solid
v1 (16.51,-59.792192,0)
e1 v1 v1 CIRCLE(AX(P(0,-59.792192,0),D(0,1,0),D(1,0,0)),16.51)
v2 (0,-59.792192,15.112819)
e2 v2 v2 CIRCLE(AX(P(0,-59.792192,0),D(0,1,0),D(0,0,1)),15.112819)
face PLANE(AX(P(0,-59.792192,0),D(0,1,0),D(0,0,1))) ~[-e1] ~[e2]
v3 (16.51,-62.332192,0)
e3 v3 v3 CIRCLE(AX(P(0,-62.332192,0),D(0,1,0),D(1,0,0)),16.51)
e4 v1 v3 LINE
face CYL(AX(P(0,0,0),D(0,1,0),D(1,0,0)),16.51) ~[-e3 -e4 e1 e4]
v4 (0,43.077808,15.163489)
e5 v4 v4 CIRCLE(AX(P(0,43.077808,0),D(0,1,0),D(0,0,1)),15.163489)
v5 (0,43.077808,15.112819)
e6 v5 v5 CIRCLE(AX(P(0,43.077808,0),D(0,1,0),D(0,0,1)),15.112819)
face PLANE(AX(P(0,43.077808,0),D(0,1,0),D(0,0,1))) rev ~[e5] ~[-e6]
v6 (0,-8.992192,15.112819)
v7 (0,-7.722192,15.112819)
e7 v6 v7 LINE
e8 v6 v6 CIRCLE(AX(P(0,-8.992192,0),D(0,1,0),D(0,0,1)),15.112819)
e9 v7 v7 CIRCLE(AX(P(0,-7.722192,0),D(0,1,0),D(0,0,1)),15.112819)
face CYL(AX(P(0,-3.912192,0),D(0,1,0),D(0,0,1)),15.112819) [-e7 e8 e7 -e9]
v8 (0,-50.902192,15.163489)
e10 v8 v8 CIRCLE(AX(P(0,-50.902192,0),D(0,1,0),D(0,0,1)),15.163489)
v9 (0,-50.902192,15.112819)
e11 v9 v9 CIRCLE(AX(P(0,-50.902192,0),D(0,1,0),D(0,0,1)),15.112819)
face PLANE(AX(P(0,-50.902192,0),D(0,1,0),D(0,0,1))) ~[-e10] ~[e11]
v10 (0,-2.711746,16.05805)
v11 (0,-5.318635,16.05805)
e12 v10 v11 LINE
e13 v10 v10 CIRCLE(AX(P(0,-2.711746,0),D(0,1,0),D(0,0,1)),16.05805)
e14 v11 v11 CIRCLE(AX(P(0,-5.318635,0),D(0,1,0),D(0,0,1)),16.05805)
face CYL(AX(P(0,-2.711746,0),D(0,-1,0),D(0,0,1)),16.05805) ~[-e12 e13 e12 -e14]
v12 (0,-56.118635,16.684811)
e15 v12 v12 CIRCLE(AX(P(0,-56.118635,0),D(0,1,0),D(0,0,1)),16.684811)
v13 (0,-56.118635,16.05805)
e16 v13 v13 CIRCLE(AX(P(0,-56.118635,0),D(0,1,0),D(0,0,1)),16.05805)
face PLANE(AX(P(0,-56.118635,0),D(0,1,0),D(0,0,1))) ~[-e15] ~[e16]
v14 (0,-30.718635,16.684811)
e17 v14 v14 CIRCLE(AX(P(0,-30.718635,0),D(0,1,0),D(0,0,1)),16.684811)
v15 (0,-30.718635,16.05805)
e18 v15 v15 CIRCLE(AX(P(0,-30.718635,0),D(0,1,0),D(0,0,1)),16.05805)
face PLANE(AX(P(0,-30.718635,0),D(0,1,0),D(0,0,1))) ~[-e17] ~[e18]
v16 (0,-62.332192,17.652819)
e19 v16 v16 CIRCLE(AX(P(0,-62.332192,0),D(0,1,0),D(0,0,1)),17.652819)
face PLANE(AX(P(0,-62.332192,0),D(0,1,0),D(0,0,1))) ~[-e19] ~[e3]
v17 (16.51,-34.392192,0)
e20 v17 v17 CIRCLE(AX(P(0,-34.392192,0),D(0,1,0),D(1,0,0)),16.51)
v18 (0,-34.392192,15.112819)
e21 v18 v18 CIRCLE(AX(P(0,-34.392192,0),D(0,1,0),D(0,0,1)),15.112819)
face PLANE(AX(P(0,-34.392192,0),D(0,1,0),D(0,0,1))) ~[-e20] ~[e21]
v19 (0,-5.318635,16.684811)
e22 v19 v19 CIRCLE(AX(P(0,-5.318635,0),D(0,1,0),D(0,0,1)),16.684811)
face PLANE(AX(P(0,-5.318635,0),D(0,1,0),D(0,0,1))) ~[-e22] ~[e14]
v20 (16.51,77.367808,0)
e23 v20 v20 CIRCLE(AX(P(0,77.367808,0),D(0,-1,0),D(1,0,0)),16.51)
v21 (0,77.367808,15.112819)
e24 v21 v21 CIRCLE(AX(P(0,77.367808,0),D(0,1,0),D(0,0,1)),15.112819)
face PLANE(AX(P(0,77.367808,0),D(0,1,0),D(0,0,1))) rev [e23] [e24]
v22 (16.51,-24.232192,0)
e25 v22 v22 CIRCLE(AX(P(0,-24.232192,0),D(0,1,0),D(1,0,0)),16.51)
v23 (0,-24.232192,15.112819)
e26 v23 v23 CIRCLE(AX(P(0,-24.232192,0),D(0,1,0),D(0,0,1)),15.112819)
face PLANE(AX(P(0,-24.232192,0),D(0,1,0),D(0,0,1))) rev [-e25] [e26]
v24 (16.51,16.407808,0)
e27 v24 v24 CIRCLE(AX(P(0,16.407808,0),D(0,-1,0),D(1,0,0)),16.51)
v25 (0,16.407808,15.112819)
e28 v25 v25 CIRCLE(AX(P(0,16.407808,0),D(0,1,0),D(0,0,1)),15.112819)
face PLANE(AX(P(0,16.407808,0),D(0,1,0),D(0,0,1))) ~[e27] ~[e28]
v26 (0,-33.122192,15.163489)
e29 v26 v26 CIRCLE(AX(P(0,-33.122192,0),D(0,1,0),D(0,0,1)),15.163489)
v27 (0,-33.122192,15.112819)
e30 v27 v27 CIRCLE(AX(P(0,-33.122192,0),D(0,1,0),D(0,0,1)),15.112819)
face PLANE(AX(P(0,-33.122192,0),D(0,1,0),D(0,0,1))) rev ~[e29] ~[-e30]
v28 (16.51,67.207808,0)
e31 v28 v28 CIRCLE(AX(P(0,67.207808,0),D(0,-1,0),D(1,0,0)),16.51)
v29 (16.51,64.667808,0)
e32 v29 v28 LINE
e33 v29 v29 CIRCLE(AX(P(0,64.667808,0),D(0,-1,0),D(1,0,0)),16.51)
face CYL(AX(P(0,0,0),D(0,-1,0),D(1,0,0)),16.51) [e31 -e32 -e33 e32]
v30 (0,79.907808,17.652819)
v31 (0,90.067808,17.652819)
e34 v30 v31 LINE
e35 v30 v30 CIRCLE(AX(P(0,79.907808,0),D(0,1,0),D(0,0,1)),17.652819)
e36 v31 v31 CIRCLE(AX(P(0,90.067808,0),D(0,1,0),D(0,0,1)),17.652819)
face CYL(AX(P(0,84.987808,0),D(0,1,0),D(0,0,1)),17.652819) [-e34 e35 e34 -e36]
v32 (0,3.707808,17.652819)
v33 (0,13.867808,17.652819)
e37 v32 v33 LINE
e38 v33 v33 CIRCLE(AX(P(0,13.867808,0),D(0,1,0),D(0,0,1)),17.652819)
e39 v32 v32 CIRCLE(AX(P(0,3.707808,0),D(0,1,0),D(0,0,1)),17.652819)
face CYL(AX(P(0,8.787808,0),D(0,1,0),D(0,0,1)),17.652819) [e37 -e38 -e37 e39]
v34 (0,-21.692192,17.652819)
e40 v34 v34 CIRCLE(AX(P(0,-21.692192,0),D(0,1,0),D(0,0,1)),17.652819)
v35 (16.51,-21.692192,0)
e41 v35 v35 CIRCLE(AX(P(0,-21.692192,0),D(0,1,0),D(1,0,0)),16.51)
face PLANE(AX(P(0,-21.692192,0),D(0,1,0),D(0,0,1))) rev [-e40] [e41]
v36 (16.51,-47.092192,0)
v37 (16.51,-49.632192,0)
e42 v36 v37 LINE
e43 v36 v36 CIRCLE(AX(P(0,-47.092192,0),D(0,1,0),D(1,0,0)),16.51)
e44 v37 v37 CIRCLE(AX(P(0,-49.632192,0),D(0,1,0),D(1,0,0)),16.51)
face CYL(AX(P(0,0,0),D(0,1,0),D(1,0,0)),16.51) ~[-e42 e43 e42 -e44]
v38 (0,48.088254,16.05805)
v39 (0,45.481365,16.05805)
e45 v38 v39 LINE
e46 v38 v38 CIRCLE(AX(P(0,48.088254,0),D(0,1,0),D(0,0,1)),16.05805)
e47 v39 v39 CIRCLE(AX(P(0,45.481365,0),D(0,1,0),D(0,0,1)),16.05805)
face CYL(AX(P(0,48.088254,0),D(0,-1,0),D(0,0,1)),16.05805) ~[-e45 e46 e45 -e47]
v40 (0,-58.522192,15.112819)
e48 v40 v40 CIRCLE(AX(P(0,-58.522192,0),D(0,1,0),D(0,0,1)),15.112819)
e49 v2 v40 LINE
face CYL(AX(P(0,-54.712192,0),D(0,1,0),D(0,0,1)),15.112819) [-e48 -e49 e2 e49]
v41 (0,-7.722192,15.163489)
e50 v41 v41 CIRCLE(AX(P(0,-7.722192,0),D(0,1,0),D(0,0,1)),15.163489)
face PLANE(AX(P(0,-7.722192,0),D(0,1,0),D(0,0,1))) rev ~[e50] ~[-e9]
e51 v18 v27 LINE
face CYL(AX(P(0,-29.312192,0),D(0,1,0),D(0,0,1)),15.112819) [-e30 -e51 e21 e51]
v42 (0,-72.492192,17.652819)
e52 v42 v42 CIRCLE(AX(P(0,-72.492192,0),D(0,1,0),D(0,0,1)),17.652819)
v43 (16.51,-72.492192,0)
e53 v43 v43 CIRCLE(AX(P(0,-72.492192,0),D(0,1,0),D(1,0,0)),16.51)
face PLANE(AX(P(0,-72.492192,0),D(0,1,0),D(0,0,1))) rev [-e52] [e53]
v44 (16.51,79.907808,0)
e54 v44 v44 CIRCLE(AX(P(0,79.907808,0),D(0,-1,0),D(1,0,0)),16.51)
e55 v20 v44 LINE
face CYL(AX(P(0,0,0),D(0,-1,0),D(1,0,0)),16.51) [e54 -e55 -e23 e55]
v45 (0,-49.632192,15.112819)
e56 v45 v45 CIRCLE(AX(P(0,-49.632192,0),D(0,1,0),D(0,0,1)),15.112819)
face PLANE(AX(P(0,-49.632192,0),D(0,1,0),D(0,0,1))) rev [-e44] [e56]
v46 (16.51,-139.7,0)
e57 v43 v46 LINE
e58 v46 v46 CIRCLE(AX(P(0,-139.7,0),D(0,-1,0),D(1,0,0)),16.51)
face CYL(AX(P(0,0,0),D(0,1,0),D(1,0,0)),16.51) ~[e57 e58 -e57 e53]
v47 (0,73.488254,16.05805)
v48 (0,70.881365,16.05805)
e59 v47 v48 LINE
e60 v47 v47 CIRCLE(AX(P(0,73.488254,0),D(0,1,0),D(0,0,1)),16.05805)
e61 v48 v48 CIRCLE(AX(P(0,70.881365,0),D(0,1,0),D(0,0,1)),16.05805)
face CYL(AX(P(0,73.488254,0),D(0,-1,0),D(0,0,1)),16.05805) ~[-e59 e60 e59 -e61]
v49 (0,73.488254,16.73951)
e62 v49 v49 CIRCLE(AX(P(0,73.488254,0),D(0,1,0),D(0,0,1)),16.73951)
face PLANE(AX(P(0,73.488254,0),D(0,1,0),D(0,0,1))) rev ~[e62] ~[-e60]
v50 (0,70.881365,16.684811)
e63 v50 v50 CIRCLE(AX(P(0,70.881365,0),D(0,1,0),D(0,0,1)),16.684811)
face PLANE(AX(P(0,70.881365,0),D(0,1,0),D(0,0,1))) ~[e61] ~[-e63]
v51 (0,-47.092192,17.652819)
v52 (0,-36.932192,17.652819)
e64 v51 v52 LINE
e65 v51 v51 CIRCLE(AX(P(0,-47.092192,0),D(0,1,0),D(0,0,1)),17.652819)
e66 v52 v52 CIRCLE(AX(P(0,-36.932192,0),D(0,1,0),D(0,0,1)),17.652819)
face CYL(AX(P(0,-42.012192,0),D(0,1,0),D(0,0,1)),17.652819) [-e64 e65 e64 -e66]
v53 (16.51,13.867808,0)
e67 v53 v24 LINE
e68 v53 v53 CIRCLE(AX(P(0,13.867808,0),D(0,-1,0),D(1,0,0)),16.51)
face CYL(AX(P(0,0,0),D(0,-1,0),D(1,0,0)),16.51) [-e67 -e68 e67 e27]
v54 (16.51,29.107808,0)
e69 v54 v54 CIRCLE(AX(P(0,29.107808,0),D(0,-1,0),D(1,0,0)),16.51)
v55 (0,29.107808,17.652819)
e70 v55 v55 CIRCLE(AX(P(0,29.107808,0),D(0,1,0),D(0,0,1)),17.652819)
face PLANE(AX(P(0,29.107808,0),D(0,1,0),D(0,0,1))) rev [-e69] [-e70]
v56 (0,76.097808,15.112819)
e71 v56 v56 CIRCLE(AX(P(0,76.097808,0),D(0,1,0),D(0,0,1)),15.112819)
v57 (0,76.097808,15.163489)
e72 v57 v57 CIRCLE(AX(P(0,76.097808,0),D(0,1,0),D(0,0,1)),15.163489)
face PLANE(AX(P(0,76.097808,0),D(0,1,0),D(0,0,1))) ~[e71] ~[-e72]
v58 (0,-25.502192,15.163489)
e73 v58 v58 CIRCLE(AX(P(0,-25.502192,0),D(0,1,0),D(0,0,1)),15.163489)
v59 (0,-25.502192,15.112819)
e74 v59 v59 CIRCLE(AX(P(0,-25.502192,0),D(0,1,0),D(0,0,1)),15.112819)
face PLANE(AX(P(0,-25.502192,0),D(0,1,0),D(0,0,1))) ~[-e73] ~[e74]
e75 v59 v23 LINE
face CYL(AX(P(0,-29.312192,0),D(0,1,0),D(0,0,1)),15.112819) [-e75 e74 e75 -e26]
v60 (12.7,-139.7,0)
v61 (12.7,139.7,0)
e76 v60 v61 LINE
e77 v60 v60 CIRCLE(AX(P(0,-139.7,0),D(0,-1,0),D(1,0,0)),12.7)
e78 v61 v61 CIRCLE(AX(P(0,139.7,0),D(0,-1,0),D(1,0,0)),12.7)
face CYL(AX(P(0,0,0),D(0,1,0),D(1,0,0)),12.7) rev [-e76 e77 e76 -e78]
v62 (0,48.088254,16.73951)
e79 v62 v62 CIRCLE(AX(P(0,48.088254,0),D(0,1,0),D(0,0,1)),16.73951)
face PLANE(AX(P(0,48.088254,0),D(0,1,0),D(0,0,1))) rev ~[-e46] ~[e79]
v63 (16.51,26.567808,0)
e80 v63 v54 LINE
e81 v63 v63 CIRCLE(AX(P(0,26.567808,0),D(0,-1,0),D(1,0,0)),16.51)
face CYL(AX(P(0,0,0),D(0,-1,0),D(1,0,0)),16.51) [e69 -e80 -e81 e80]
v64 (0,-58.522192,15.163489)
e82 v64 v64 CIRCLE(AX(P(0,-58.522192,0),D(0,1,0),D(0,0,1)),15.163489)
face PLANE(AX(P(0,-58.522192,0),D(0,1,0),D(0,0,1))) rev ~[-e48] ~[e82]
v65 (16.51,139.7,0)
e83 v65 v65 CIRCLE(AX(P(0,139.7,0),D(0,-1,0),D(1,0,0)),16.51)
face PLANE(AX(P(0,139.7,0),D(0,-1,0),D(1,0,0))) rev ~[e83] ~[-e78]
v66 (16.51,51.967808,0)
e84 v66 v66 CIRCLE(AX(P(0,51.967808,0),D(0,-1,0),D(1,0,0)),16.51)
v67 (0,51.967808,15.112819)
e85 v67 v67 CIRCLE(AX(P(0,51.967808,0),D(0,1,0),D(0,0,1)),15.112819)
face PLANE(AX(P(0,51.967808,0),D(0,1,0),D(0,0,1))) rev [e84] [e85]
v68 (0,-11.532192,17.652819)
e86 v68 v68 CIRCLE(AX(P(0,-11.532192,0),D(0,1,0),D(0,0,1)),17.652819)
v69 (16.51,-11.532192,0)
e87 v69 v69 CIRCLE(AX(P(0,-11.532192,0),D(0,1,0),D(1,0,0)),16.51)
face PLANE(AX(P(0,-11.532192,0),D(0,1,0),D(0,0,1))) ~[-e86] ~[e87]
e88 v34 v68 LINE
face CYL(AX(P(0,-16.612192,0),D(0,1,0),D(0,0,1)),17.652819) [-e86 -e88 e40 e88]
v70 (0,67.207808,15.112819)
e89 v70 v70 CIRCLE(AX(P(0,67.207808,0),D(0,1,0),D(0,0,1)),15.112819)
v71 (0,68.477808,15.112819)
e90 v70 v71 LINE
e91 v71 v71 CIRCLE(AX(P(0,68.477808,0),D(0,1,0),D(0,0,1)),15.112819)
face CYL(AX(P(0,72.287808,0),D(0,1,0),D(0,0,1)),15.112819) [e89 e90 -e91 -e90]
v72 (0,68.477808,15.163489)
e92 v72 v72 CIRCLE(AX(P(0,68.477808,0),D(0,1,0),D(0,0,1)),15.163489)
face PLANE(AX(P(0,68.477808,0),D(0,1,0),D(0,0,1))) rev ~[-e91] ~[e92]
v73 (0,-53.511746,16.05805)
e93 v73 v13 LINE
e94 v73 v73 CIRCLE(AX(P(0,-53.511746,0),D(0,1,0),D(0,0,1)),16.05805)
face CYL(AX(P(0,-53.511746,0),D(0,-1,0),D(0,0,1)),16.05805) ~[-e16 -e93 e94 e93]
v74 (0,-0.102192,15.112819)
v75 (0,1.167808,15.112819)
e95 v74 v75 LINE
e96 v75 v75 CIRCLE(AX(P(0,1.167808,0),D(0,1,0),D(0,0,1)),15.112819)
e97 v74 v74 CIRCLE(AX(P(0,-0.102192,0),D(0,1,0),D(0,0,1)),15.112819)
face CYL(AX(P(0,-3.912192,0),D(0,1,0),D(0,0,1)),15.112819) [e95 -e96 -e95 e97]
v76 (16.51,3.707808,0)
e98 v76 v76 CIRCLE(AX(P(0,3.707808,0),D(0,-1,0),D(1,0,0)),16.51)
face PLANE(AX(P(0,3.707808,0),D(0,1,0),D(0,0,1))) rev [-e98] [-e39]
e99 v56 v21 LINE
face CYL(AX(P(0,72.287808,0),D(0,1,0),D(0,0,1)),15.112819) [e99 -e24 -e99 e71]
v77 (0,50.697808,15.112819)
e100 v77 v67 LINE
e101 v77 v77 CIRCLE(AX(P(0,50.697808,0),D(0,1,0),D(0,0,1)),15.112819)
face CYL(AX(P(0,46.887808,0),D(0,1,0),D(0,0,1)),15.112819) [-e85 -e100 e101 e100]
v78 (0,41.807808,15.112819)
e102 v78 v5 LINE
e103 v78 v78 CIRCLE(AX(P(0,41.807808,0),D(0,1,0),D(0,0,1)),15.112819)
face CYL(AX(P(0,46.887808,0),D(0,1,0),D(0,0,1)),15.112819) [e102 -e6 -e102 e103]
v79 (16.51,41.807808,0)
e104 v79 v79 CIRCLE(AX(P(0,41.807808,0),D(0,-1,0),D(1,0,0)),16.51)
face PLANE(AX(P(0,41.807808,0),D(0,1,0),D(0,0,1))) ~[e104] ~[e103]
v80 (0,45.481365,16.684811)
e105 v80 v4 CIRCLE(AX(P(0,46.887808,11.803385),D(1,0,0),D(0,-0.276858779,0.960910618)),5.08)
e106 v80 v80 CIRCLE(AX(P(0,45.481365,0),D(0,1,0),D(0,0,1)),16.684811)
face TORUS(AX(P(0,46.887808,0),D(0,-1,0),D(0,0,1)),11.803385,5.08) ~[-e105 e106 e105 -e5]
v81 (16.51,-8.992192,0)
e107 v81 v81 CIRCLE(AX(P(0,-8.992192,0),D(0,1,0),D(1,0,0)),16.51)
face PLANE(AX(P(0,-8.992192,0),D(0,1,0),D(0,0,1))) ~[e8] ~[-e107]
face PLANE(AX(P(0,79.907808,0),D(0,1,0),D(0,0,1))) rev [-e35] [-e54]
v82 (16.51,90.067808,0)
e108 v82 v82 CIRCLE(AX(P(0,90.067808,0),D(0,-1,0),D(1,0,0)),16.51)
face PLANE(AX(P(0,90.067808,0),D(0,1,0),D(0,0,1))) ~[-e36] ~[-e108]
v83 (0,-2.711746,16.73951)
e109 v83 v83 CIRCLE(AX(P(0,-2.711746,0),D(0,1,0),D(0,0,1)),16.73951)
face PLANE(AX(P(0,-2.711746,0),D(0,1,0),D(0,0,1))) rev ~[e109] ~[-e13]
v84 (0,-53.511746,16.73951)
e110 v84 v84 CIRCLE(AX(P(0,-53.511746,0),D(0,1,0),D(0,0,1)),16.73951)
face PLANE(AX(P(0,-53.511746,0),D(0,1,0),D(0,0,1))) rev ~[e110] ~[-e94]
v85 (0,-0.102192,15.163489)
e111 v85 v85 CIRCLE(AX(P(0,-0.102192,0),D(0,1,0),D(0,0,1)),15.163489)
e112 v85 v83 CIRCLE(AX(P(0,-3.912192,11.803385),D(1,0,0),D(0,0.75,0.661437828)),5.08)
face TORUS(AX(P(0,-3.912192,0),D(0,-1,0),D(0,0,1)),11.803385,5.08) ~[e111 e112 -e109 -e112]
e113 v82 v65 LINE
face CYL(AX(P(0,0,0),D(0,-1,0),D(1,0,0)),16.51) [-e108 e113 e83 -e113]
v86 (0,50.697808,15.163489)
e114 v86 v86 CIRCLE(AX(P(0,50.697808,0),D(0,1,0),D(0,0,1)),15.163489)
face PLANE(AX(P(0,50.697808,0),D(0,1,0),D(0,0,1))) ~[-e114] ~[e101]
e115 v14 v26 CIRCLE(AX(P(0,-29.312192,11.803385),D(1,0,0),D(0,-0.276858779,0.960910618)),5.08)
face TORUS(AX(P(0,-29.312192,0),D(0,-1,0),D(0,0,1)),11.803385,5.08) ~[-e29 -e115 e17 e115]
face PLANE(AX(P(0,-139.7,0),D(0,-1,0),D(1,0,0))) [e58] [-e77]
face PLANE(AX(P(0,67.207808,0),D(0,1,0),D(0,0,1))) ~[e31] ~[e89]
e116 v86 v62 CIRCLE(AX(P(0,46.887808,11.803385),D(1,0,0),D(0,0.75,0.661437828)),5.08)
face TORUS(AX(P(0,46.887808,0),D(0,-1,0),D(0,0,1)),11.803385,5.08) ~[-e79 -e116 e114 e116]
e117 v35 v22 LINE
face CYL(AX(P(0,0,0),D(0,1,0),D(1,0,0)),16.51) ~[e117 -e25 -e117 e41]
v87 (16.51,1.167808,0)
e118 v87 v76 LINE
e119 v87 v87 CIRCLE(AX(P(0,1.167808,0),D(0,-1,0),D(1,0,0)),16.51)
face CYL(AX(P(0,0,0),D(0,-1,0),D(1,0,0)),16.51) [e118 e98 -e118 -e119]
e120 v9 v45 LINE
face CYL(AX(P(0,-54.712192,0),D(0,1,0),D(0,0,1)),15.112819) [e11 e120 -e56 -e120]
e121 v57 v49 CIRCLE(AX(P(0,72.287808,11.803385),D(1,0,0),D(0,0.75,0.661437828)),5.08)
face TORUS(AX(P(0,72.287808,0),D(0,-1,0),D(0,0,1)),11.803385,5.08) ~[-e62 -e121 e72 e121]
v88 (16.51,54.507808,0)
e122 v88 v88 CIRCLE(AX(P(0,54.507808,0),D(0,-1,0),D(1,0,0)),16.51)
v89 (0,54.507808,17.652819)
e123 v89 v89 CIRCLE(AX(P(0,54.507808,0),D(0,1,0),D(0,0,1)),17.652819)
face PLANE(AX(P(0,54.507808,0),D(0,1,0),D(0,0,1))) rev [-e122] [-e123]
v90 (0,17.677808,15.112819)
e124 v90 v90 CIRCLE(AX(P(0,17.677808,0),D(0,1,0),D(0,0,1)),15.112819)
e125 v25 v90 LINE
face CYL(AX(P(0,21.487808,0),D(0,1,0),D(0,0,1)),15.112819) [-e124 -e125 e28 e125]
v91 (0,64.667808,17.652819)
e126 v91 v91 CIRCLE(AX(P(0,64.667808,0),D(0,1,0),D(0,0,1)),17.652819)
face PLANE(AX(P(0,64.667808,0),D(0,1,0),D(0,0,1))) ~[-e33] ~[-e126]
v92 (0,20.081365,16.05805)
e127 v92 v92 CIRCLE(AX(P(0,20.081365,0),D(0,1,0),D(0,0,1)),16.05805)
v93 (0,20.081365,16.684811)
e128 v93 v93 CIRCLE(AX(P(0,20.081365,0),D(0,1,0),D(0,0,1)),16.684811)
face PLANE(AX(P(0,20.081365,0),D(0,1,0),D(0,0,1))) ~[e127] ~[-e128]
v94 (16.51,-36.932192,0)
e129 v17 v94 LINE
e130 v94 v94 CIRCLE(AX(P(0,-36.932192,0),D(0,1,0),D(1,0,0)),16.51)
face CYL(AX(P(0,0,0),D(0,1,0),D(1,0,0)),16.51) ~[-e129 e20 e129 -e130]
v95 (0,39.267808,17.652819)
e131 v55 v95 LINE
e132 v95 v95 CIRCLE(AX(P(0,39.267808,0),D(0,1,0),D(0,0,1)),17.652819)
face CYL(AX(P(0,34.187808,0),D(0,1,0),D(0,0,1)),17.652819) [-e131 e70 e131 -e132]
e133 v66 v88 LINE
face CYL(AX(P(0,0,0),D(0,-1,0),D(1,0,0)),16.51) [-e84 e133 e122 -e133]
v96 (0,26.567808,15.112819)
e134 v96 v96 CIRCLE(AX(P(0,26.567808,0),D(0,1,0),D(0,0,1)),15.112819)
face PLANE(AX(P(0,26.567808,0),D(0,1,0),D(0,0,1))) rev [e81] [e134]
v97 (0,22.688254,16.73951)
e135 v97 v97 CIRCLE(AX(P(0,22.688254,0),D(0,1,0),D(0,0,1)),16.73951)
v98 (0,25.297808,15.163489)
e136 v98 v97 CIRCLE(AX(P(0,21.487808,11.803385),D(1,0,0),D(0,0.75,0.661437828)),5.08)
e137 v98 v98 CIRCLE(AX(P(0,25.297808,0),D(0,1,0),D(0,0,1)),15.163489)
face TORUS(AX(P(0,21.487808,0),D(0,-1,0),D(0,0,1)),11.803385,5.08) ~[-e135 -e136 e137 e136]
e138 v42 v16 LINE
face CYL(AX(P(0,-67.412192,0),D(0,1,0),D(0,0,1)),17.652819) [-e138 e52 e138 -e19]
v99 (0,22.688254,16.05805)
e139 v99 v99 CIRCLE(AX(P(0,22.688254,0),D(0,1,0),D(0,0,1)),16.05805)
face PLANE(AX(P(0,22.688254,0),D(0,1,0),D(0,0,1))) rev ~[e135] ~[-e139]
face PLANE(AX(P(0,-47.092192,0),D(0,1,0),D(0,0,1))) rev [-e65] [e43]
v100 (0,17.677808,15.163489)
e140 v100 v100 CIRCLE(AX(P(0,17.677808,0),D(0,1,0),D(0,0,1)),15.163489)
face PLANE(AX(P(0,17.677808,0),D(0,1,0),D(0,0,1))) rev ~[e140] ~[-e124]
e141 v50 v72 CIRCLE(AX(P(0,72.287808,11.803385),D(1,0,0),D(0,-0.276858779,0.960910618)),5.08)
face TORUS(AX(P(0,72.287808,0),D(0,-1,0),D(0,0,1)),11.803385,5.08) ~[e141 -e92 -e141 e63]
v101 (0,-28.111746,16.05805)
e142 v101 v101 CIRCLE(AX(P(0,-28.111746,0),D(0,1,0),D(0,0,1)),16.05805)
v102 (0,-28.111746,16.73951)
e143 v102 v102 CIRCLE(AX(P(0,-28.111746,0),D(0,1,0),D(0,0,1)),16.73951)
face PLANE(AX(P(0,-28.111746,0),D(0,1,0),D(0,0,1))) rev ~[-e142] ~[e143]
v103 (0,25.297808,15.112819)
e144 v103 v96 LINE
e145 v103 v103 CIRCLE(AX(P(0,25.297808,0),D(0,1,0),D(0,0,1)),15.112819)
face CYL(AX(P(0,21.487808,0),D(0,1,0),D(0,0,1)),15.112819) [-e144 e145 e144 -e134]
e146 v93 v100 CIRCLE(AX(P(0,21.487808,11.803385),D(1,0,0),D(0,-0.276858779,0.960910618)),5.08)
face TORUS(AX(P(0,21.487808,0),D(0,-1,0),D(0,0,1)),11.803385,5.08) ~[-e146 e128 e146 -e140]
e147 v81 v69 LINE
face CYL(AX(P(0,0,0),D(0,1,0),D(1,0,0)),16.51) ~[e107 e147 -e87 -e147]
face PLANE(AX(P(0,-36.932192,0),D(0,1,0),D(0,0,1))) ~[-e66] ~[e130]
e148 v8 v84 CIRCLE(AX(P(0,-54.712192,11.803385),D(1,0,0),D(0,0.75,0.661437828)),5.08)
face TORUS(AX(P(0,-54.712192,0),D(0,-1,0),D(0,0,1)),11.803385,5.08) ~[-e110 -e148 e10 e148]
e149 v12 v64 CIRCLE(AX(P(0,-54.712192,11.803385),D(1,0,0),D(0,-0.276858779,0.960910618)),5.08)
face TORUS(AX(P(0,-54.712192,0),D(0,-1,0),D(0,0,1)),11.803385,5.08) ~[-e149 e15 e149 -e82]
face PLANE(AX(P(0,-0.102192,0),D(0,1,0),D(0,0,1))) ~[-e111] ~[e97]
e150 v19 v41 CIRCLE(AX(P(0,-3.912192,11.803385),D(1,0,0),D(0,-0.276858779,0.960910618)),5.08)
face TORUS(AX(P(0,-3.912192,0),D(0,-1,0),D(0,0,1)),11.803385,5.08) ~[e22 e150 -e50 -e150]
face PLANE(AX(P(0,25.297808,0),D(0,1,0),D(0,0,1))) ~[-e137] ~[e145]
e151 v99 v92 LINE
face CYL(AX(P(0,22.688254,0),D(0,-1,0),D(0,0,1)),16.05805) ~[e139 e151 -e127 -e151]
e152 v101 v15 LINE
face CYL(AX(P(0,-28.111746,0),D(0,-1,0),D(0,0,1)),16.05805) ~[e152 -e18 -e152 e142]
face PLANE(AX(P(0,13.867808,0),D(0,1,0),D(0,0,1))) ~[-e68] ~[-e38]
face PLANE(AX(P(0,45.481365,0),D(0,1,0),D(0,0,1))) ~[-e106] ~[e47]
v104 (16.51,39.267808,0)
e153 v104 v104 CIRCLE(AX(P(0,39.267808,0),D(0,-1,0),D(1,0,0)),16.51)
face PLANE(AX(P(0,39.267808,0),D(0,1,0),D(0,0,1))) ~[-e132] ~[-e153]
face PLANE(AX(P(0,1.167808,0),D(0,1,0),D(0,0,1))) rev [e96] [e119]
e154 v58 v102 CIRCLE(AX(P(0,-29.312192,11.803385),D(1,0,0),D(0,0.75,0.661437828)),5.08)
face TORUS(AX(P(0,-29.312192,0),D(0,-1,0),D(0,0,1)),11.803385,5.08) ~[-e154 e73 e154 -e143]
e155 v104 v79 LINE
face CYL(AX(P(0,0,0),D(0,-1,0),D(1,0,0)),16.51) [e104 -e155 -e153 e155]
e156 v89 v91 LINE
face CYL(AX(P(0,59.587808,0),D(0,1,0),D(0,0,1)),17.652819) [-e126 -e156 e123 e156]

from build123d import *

# Parameters (mm, degrees)
F0_R          = 16.51
F0_R_2        = 12.7
F1_DEPTH      = 139.7
F1_DEPTH_BACK = 139.7
F2_W          = 10.16
F2_H          = 2.54


with BuildPart() as f1:
    # F0 (on Front) → F1 (new body, two sides)
    with BuildSketch(Plane.XZ) as f1_sk:
        Circle(F0_R)
        Circle(F0_R_2, mode=Mode.SUBTRACT)
    extrude(amount=-F1_DEPTH)
    extrude(f1_sk.sketch, amount=F1_DEPTH_BACK)

    # F2 (on Right) → F3 (revolve, cut)
    with BuildSketch(Plane.YZ):
        with Locations((-54.7121922189, 16.3828185506)):
            Rectangle(F2_W, F2_H)
        with Locations((-29.3121922189, 16.3828185506)):
            Rectangle(F2_W, F2_H)
        with Locations((-3.9121922189, 16.3828185506)):
            Rectangle(F2_W, F2_H)
        with Locations((21.4878077811, 16.3828185506)):
            Rectangle(F2_W, F2_H)
        with Locations((46.8878077811, 16.3828185506)):
            Rectangle(F2_W, F2_H)
        with Locations((72.2878077811, 16.3828185506)):
            Rectangle(F2_W, F2_H)
    revolve(axis=Axis((0, 5.662612617, 0), (0, 1, 0)), mode=Mode.SUBTRACT)

    # F2 (on Right) → F4 (revolve)
    with BuildSketch(Plane.YZ):
        with Locations((-67.4121922189, 16.3828185506)):
            Rectangle(F2_W, F2_H)
        with Locations((-42.0121922189, 16.3828185506)):
            Rectangle(F2_W, F2_H)
        with Locations((-16.6121922189, 16.3828185506)):
            Rectangle(F2_W, F2_H)
        with Locations((8.7878077811, 16.3828185506)):
            Rectangle(F2_W, F2_H)
        with Locations((34.1878077811, 16.3828185506)):
            Rectangle(F2_W, F2_H)
        with Locations((59.5878077811, 16.3828185506)):
            Rectangle(F2_W, F2_H)
        with Locations((84.9878077811, 16.3828185506)):
            Rectangle(F2_W, F2_H)
    revolve(axis=Axis((0, 5.662612617, 0), (0, 1, 0)))

    # F5 (on Right) → F6 (revolve)
    with BuildSketch(Plane.YZ):
        with BuildLine():
            Line((-50.9021922189, 14.731345475), (-50.9021922189, 15.1634888104))
            ThreePointArc((-50.9021922189, 15.1634888104), (-52.0859586748, 16.1518668371), (-53.5117462277, 16.7395095853))
            Line((-53.5117462277, 16.7395095853), (-53.5117462277, 16.0580500076))
            Line((-53.5117462277, 16.0580500076), (-56.1186348169, 16.0580500076))
            Line((-56.1186348169, 16.0580500076), (-56.1186348169, 16.6848105865))
            ThreePointArc((-56.1186348169, 16.6848105865), (-57.4290697154, 16.0958171339), (-58.5221922189, 15.1634888104))
            Line((-58.5221922189, 15.1634888104), (-58.5221922189, 14.731345475))
            Line((-58.5221922189, 14.731345475), (-50.9021922189, 14.731345475))
        make_face()
        with BuildLine():
            Line((-25.5021922189, 14.731345475), (-25.5021922189, 15.1634888104))
            ThreePointArc((-25.5021922189, 15.1634888104), (-26.6859586748, 16.1518668371), (-28.1117462277, 16.7395095853))
            Line((-28.1117462277, 16.7395095853), (-28.1117462277, 16.0580500076))
            Line((-28.1117462277, 16.0580500076), (-30.7186348169, 16.0580500076))
            Line((-30.7186348169, 16.0580500076), (-30.7186348169, 16.6848105865))
            ThreePointArc((-30.7186348169, 16.6848105865), (-32.0290697154, 16.0958171339), (-33.1221922189, 15.1634888104))
            Line((-33.1221922189, 15.1634888104), (-33.1221922189, 14.731345475))
            Line((-33.1221922189, 14.731345475), (-25.5021922189, 14.731345475))
        make_face()
        with BuildLine():
            Line((-0.1021922189, 14.731345475), (-0.1021922189, 15.1634888104))
            ThreePointArc((-0.1021922189, 15.1634888104), (-1.2859586748, 16.1518668371), (-2.7117462277, 16.7395095853))
            Line((-2.7117462277, 16.7395095853), (-2.7117462277, 16.0580500076))
            Line((-2.7117462277, 16.0580500076), (-5.3186348169, 16.0580500076))
            Line((-5.3186348169, 16.0580500076), (-5.3186348169, 16.6848105865))
            ThreePointArc((-5.3186348169, 16.6848105865), (-6.6290697154, 16.0958171339), (-7.7221922189, 15.1634888104))
            Line((-7.7221922189, 15.1634888104), (-7.7221922189, 14.731345475))
            Line((-7.7221922189, 14.731345475), (-0.1021922189, 14.731345475))
        make_face()
        with BuildLine():
            Line((25.2978077811, 14.731345475), (25.2978077811, 15.1634888104))
            ThreePointArc((25.2978077811, 15.1634888104), (24.1140413252, 16.1518668371), (22.6882537723, 16.7395095853))
            Line((22.6882537723, 16.7395095853), (22.6882537723, 16.0580500076))
            Line((22.6882537723, 16.0580500076), (20.0813651831, 16.0580500076))
            Line((20.0813651831, 16.0580500076), (20.0813651831, 16.6848105865))
            ThreePointArc((20.0813651831, 16.6848105865), (18.7709302846, 16.0958171339), (17.6778077811, 15.1634888104))
            Line((17.6778077811, 15.1634888104), (17.6778077811, 14.731345475))
            Line((17.6778077811, 14.731345475), (25.2978077811, 14.731345475))
        make_face()
        with BuildLine():
            Line((50.6978077811, 14.731345475), (50.6978077811, 15.1634888104))
            ThreePointArc((50.6978077811, 15.1634888104), (49.5140413252, 16.1518668371), (48.0882537723, 16.7395095853))
            Line((48.0882537723, 16.7395095853), (48.0882537723, 16.0580500076))
            Line((48.0882537723, 16.0580500076), (45.4813651831, 16.0580500076))
            Line((45.4813651831, 16.0580500076), (45.4813651831, 16.6848105865))
            ThreePointArc((45.4813651831, 16.6848105865), (44.1709302846, 16.0958171339), (43.0778077811, 15.1634888104))
            Line((43.0778077811, 15.1634888104), (43.0778077811, 14.731345475))
            Line((43.0778077811, 14.731345475), (50.6978077811, 14.731345475))
        make_face()
        with BuildLine():
            Line((76.0978077811, 14.731345475), (76.0978077811, 15.1634888104))
            ThreePointArc((76.0978077811, 15.1634888104), (74.9140413252, 16.1518668371), (73.4882537723, 16.7395095853))
            Line((73.4882537723, 16.7395095853), (73.4882537723, 16.0580500076))
            Line((73.4882537723, 16.0580500076), (70.8813651831, 16.0580500076))
            Line((70.8813651831, 16.0580500076), (70.8813651831, 16.6848105865))
            ThreePointArc((70.8813651831, 16.6848105865), (69.5709302846, 16.0958171339), (68.4778077811, 15.1634888104))
            Line((68.4778077811, 15.1634888104), (68.4778077811, 14.731345475))
            Line((68.4778077811, 14.731345475), (76.0978077811, 14.731345475))
        make_face()
    revolve(axis=Axis((0, 11.8440762162, 0), (0, 1, 0)))


solid = f1.part
